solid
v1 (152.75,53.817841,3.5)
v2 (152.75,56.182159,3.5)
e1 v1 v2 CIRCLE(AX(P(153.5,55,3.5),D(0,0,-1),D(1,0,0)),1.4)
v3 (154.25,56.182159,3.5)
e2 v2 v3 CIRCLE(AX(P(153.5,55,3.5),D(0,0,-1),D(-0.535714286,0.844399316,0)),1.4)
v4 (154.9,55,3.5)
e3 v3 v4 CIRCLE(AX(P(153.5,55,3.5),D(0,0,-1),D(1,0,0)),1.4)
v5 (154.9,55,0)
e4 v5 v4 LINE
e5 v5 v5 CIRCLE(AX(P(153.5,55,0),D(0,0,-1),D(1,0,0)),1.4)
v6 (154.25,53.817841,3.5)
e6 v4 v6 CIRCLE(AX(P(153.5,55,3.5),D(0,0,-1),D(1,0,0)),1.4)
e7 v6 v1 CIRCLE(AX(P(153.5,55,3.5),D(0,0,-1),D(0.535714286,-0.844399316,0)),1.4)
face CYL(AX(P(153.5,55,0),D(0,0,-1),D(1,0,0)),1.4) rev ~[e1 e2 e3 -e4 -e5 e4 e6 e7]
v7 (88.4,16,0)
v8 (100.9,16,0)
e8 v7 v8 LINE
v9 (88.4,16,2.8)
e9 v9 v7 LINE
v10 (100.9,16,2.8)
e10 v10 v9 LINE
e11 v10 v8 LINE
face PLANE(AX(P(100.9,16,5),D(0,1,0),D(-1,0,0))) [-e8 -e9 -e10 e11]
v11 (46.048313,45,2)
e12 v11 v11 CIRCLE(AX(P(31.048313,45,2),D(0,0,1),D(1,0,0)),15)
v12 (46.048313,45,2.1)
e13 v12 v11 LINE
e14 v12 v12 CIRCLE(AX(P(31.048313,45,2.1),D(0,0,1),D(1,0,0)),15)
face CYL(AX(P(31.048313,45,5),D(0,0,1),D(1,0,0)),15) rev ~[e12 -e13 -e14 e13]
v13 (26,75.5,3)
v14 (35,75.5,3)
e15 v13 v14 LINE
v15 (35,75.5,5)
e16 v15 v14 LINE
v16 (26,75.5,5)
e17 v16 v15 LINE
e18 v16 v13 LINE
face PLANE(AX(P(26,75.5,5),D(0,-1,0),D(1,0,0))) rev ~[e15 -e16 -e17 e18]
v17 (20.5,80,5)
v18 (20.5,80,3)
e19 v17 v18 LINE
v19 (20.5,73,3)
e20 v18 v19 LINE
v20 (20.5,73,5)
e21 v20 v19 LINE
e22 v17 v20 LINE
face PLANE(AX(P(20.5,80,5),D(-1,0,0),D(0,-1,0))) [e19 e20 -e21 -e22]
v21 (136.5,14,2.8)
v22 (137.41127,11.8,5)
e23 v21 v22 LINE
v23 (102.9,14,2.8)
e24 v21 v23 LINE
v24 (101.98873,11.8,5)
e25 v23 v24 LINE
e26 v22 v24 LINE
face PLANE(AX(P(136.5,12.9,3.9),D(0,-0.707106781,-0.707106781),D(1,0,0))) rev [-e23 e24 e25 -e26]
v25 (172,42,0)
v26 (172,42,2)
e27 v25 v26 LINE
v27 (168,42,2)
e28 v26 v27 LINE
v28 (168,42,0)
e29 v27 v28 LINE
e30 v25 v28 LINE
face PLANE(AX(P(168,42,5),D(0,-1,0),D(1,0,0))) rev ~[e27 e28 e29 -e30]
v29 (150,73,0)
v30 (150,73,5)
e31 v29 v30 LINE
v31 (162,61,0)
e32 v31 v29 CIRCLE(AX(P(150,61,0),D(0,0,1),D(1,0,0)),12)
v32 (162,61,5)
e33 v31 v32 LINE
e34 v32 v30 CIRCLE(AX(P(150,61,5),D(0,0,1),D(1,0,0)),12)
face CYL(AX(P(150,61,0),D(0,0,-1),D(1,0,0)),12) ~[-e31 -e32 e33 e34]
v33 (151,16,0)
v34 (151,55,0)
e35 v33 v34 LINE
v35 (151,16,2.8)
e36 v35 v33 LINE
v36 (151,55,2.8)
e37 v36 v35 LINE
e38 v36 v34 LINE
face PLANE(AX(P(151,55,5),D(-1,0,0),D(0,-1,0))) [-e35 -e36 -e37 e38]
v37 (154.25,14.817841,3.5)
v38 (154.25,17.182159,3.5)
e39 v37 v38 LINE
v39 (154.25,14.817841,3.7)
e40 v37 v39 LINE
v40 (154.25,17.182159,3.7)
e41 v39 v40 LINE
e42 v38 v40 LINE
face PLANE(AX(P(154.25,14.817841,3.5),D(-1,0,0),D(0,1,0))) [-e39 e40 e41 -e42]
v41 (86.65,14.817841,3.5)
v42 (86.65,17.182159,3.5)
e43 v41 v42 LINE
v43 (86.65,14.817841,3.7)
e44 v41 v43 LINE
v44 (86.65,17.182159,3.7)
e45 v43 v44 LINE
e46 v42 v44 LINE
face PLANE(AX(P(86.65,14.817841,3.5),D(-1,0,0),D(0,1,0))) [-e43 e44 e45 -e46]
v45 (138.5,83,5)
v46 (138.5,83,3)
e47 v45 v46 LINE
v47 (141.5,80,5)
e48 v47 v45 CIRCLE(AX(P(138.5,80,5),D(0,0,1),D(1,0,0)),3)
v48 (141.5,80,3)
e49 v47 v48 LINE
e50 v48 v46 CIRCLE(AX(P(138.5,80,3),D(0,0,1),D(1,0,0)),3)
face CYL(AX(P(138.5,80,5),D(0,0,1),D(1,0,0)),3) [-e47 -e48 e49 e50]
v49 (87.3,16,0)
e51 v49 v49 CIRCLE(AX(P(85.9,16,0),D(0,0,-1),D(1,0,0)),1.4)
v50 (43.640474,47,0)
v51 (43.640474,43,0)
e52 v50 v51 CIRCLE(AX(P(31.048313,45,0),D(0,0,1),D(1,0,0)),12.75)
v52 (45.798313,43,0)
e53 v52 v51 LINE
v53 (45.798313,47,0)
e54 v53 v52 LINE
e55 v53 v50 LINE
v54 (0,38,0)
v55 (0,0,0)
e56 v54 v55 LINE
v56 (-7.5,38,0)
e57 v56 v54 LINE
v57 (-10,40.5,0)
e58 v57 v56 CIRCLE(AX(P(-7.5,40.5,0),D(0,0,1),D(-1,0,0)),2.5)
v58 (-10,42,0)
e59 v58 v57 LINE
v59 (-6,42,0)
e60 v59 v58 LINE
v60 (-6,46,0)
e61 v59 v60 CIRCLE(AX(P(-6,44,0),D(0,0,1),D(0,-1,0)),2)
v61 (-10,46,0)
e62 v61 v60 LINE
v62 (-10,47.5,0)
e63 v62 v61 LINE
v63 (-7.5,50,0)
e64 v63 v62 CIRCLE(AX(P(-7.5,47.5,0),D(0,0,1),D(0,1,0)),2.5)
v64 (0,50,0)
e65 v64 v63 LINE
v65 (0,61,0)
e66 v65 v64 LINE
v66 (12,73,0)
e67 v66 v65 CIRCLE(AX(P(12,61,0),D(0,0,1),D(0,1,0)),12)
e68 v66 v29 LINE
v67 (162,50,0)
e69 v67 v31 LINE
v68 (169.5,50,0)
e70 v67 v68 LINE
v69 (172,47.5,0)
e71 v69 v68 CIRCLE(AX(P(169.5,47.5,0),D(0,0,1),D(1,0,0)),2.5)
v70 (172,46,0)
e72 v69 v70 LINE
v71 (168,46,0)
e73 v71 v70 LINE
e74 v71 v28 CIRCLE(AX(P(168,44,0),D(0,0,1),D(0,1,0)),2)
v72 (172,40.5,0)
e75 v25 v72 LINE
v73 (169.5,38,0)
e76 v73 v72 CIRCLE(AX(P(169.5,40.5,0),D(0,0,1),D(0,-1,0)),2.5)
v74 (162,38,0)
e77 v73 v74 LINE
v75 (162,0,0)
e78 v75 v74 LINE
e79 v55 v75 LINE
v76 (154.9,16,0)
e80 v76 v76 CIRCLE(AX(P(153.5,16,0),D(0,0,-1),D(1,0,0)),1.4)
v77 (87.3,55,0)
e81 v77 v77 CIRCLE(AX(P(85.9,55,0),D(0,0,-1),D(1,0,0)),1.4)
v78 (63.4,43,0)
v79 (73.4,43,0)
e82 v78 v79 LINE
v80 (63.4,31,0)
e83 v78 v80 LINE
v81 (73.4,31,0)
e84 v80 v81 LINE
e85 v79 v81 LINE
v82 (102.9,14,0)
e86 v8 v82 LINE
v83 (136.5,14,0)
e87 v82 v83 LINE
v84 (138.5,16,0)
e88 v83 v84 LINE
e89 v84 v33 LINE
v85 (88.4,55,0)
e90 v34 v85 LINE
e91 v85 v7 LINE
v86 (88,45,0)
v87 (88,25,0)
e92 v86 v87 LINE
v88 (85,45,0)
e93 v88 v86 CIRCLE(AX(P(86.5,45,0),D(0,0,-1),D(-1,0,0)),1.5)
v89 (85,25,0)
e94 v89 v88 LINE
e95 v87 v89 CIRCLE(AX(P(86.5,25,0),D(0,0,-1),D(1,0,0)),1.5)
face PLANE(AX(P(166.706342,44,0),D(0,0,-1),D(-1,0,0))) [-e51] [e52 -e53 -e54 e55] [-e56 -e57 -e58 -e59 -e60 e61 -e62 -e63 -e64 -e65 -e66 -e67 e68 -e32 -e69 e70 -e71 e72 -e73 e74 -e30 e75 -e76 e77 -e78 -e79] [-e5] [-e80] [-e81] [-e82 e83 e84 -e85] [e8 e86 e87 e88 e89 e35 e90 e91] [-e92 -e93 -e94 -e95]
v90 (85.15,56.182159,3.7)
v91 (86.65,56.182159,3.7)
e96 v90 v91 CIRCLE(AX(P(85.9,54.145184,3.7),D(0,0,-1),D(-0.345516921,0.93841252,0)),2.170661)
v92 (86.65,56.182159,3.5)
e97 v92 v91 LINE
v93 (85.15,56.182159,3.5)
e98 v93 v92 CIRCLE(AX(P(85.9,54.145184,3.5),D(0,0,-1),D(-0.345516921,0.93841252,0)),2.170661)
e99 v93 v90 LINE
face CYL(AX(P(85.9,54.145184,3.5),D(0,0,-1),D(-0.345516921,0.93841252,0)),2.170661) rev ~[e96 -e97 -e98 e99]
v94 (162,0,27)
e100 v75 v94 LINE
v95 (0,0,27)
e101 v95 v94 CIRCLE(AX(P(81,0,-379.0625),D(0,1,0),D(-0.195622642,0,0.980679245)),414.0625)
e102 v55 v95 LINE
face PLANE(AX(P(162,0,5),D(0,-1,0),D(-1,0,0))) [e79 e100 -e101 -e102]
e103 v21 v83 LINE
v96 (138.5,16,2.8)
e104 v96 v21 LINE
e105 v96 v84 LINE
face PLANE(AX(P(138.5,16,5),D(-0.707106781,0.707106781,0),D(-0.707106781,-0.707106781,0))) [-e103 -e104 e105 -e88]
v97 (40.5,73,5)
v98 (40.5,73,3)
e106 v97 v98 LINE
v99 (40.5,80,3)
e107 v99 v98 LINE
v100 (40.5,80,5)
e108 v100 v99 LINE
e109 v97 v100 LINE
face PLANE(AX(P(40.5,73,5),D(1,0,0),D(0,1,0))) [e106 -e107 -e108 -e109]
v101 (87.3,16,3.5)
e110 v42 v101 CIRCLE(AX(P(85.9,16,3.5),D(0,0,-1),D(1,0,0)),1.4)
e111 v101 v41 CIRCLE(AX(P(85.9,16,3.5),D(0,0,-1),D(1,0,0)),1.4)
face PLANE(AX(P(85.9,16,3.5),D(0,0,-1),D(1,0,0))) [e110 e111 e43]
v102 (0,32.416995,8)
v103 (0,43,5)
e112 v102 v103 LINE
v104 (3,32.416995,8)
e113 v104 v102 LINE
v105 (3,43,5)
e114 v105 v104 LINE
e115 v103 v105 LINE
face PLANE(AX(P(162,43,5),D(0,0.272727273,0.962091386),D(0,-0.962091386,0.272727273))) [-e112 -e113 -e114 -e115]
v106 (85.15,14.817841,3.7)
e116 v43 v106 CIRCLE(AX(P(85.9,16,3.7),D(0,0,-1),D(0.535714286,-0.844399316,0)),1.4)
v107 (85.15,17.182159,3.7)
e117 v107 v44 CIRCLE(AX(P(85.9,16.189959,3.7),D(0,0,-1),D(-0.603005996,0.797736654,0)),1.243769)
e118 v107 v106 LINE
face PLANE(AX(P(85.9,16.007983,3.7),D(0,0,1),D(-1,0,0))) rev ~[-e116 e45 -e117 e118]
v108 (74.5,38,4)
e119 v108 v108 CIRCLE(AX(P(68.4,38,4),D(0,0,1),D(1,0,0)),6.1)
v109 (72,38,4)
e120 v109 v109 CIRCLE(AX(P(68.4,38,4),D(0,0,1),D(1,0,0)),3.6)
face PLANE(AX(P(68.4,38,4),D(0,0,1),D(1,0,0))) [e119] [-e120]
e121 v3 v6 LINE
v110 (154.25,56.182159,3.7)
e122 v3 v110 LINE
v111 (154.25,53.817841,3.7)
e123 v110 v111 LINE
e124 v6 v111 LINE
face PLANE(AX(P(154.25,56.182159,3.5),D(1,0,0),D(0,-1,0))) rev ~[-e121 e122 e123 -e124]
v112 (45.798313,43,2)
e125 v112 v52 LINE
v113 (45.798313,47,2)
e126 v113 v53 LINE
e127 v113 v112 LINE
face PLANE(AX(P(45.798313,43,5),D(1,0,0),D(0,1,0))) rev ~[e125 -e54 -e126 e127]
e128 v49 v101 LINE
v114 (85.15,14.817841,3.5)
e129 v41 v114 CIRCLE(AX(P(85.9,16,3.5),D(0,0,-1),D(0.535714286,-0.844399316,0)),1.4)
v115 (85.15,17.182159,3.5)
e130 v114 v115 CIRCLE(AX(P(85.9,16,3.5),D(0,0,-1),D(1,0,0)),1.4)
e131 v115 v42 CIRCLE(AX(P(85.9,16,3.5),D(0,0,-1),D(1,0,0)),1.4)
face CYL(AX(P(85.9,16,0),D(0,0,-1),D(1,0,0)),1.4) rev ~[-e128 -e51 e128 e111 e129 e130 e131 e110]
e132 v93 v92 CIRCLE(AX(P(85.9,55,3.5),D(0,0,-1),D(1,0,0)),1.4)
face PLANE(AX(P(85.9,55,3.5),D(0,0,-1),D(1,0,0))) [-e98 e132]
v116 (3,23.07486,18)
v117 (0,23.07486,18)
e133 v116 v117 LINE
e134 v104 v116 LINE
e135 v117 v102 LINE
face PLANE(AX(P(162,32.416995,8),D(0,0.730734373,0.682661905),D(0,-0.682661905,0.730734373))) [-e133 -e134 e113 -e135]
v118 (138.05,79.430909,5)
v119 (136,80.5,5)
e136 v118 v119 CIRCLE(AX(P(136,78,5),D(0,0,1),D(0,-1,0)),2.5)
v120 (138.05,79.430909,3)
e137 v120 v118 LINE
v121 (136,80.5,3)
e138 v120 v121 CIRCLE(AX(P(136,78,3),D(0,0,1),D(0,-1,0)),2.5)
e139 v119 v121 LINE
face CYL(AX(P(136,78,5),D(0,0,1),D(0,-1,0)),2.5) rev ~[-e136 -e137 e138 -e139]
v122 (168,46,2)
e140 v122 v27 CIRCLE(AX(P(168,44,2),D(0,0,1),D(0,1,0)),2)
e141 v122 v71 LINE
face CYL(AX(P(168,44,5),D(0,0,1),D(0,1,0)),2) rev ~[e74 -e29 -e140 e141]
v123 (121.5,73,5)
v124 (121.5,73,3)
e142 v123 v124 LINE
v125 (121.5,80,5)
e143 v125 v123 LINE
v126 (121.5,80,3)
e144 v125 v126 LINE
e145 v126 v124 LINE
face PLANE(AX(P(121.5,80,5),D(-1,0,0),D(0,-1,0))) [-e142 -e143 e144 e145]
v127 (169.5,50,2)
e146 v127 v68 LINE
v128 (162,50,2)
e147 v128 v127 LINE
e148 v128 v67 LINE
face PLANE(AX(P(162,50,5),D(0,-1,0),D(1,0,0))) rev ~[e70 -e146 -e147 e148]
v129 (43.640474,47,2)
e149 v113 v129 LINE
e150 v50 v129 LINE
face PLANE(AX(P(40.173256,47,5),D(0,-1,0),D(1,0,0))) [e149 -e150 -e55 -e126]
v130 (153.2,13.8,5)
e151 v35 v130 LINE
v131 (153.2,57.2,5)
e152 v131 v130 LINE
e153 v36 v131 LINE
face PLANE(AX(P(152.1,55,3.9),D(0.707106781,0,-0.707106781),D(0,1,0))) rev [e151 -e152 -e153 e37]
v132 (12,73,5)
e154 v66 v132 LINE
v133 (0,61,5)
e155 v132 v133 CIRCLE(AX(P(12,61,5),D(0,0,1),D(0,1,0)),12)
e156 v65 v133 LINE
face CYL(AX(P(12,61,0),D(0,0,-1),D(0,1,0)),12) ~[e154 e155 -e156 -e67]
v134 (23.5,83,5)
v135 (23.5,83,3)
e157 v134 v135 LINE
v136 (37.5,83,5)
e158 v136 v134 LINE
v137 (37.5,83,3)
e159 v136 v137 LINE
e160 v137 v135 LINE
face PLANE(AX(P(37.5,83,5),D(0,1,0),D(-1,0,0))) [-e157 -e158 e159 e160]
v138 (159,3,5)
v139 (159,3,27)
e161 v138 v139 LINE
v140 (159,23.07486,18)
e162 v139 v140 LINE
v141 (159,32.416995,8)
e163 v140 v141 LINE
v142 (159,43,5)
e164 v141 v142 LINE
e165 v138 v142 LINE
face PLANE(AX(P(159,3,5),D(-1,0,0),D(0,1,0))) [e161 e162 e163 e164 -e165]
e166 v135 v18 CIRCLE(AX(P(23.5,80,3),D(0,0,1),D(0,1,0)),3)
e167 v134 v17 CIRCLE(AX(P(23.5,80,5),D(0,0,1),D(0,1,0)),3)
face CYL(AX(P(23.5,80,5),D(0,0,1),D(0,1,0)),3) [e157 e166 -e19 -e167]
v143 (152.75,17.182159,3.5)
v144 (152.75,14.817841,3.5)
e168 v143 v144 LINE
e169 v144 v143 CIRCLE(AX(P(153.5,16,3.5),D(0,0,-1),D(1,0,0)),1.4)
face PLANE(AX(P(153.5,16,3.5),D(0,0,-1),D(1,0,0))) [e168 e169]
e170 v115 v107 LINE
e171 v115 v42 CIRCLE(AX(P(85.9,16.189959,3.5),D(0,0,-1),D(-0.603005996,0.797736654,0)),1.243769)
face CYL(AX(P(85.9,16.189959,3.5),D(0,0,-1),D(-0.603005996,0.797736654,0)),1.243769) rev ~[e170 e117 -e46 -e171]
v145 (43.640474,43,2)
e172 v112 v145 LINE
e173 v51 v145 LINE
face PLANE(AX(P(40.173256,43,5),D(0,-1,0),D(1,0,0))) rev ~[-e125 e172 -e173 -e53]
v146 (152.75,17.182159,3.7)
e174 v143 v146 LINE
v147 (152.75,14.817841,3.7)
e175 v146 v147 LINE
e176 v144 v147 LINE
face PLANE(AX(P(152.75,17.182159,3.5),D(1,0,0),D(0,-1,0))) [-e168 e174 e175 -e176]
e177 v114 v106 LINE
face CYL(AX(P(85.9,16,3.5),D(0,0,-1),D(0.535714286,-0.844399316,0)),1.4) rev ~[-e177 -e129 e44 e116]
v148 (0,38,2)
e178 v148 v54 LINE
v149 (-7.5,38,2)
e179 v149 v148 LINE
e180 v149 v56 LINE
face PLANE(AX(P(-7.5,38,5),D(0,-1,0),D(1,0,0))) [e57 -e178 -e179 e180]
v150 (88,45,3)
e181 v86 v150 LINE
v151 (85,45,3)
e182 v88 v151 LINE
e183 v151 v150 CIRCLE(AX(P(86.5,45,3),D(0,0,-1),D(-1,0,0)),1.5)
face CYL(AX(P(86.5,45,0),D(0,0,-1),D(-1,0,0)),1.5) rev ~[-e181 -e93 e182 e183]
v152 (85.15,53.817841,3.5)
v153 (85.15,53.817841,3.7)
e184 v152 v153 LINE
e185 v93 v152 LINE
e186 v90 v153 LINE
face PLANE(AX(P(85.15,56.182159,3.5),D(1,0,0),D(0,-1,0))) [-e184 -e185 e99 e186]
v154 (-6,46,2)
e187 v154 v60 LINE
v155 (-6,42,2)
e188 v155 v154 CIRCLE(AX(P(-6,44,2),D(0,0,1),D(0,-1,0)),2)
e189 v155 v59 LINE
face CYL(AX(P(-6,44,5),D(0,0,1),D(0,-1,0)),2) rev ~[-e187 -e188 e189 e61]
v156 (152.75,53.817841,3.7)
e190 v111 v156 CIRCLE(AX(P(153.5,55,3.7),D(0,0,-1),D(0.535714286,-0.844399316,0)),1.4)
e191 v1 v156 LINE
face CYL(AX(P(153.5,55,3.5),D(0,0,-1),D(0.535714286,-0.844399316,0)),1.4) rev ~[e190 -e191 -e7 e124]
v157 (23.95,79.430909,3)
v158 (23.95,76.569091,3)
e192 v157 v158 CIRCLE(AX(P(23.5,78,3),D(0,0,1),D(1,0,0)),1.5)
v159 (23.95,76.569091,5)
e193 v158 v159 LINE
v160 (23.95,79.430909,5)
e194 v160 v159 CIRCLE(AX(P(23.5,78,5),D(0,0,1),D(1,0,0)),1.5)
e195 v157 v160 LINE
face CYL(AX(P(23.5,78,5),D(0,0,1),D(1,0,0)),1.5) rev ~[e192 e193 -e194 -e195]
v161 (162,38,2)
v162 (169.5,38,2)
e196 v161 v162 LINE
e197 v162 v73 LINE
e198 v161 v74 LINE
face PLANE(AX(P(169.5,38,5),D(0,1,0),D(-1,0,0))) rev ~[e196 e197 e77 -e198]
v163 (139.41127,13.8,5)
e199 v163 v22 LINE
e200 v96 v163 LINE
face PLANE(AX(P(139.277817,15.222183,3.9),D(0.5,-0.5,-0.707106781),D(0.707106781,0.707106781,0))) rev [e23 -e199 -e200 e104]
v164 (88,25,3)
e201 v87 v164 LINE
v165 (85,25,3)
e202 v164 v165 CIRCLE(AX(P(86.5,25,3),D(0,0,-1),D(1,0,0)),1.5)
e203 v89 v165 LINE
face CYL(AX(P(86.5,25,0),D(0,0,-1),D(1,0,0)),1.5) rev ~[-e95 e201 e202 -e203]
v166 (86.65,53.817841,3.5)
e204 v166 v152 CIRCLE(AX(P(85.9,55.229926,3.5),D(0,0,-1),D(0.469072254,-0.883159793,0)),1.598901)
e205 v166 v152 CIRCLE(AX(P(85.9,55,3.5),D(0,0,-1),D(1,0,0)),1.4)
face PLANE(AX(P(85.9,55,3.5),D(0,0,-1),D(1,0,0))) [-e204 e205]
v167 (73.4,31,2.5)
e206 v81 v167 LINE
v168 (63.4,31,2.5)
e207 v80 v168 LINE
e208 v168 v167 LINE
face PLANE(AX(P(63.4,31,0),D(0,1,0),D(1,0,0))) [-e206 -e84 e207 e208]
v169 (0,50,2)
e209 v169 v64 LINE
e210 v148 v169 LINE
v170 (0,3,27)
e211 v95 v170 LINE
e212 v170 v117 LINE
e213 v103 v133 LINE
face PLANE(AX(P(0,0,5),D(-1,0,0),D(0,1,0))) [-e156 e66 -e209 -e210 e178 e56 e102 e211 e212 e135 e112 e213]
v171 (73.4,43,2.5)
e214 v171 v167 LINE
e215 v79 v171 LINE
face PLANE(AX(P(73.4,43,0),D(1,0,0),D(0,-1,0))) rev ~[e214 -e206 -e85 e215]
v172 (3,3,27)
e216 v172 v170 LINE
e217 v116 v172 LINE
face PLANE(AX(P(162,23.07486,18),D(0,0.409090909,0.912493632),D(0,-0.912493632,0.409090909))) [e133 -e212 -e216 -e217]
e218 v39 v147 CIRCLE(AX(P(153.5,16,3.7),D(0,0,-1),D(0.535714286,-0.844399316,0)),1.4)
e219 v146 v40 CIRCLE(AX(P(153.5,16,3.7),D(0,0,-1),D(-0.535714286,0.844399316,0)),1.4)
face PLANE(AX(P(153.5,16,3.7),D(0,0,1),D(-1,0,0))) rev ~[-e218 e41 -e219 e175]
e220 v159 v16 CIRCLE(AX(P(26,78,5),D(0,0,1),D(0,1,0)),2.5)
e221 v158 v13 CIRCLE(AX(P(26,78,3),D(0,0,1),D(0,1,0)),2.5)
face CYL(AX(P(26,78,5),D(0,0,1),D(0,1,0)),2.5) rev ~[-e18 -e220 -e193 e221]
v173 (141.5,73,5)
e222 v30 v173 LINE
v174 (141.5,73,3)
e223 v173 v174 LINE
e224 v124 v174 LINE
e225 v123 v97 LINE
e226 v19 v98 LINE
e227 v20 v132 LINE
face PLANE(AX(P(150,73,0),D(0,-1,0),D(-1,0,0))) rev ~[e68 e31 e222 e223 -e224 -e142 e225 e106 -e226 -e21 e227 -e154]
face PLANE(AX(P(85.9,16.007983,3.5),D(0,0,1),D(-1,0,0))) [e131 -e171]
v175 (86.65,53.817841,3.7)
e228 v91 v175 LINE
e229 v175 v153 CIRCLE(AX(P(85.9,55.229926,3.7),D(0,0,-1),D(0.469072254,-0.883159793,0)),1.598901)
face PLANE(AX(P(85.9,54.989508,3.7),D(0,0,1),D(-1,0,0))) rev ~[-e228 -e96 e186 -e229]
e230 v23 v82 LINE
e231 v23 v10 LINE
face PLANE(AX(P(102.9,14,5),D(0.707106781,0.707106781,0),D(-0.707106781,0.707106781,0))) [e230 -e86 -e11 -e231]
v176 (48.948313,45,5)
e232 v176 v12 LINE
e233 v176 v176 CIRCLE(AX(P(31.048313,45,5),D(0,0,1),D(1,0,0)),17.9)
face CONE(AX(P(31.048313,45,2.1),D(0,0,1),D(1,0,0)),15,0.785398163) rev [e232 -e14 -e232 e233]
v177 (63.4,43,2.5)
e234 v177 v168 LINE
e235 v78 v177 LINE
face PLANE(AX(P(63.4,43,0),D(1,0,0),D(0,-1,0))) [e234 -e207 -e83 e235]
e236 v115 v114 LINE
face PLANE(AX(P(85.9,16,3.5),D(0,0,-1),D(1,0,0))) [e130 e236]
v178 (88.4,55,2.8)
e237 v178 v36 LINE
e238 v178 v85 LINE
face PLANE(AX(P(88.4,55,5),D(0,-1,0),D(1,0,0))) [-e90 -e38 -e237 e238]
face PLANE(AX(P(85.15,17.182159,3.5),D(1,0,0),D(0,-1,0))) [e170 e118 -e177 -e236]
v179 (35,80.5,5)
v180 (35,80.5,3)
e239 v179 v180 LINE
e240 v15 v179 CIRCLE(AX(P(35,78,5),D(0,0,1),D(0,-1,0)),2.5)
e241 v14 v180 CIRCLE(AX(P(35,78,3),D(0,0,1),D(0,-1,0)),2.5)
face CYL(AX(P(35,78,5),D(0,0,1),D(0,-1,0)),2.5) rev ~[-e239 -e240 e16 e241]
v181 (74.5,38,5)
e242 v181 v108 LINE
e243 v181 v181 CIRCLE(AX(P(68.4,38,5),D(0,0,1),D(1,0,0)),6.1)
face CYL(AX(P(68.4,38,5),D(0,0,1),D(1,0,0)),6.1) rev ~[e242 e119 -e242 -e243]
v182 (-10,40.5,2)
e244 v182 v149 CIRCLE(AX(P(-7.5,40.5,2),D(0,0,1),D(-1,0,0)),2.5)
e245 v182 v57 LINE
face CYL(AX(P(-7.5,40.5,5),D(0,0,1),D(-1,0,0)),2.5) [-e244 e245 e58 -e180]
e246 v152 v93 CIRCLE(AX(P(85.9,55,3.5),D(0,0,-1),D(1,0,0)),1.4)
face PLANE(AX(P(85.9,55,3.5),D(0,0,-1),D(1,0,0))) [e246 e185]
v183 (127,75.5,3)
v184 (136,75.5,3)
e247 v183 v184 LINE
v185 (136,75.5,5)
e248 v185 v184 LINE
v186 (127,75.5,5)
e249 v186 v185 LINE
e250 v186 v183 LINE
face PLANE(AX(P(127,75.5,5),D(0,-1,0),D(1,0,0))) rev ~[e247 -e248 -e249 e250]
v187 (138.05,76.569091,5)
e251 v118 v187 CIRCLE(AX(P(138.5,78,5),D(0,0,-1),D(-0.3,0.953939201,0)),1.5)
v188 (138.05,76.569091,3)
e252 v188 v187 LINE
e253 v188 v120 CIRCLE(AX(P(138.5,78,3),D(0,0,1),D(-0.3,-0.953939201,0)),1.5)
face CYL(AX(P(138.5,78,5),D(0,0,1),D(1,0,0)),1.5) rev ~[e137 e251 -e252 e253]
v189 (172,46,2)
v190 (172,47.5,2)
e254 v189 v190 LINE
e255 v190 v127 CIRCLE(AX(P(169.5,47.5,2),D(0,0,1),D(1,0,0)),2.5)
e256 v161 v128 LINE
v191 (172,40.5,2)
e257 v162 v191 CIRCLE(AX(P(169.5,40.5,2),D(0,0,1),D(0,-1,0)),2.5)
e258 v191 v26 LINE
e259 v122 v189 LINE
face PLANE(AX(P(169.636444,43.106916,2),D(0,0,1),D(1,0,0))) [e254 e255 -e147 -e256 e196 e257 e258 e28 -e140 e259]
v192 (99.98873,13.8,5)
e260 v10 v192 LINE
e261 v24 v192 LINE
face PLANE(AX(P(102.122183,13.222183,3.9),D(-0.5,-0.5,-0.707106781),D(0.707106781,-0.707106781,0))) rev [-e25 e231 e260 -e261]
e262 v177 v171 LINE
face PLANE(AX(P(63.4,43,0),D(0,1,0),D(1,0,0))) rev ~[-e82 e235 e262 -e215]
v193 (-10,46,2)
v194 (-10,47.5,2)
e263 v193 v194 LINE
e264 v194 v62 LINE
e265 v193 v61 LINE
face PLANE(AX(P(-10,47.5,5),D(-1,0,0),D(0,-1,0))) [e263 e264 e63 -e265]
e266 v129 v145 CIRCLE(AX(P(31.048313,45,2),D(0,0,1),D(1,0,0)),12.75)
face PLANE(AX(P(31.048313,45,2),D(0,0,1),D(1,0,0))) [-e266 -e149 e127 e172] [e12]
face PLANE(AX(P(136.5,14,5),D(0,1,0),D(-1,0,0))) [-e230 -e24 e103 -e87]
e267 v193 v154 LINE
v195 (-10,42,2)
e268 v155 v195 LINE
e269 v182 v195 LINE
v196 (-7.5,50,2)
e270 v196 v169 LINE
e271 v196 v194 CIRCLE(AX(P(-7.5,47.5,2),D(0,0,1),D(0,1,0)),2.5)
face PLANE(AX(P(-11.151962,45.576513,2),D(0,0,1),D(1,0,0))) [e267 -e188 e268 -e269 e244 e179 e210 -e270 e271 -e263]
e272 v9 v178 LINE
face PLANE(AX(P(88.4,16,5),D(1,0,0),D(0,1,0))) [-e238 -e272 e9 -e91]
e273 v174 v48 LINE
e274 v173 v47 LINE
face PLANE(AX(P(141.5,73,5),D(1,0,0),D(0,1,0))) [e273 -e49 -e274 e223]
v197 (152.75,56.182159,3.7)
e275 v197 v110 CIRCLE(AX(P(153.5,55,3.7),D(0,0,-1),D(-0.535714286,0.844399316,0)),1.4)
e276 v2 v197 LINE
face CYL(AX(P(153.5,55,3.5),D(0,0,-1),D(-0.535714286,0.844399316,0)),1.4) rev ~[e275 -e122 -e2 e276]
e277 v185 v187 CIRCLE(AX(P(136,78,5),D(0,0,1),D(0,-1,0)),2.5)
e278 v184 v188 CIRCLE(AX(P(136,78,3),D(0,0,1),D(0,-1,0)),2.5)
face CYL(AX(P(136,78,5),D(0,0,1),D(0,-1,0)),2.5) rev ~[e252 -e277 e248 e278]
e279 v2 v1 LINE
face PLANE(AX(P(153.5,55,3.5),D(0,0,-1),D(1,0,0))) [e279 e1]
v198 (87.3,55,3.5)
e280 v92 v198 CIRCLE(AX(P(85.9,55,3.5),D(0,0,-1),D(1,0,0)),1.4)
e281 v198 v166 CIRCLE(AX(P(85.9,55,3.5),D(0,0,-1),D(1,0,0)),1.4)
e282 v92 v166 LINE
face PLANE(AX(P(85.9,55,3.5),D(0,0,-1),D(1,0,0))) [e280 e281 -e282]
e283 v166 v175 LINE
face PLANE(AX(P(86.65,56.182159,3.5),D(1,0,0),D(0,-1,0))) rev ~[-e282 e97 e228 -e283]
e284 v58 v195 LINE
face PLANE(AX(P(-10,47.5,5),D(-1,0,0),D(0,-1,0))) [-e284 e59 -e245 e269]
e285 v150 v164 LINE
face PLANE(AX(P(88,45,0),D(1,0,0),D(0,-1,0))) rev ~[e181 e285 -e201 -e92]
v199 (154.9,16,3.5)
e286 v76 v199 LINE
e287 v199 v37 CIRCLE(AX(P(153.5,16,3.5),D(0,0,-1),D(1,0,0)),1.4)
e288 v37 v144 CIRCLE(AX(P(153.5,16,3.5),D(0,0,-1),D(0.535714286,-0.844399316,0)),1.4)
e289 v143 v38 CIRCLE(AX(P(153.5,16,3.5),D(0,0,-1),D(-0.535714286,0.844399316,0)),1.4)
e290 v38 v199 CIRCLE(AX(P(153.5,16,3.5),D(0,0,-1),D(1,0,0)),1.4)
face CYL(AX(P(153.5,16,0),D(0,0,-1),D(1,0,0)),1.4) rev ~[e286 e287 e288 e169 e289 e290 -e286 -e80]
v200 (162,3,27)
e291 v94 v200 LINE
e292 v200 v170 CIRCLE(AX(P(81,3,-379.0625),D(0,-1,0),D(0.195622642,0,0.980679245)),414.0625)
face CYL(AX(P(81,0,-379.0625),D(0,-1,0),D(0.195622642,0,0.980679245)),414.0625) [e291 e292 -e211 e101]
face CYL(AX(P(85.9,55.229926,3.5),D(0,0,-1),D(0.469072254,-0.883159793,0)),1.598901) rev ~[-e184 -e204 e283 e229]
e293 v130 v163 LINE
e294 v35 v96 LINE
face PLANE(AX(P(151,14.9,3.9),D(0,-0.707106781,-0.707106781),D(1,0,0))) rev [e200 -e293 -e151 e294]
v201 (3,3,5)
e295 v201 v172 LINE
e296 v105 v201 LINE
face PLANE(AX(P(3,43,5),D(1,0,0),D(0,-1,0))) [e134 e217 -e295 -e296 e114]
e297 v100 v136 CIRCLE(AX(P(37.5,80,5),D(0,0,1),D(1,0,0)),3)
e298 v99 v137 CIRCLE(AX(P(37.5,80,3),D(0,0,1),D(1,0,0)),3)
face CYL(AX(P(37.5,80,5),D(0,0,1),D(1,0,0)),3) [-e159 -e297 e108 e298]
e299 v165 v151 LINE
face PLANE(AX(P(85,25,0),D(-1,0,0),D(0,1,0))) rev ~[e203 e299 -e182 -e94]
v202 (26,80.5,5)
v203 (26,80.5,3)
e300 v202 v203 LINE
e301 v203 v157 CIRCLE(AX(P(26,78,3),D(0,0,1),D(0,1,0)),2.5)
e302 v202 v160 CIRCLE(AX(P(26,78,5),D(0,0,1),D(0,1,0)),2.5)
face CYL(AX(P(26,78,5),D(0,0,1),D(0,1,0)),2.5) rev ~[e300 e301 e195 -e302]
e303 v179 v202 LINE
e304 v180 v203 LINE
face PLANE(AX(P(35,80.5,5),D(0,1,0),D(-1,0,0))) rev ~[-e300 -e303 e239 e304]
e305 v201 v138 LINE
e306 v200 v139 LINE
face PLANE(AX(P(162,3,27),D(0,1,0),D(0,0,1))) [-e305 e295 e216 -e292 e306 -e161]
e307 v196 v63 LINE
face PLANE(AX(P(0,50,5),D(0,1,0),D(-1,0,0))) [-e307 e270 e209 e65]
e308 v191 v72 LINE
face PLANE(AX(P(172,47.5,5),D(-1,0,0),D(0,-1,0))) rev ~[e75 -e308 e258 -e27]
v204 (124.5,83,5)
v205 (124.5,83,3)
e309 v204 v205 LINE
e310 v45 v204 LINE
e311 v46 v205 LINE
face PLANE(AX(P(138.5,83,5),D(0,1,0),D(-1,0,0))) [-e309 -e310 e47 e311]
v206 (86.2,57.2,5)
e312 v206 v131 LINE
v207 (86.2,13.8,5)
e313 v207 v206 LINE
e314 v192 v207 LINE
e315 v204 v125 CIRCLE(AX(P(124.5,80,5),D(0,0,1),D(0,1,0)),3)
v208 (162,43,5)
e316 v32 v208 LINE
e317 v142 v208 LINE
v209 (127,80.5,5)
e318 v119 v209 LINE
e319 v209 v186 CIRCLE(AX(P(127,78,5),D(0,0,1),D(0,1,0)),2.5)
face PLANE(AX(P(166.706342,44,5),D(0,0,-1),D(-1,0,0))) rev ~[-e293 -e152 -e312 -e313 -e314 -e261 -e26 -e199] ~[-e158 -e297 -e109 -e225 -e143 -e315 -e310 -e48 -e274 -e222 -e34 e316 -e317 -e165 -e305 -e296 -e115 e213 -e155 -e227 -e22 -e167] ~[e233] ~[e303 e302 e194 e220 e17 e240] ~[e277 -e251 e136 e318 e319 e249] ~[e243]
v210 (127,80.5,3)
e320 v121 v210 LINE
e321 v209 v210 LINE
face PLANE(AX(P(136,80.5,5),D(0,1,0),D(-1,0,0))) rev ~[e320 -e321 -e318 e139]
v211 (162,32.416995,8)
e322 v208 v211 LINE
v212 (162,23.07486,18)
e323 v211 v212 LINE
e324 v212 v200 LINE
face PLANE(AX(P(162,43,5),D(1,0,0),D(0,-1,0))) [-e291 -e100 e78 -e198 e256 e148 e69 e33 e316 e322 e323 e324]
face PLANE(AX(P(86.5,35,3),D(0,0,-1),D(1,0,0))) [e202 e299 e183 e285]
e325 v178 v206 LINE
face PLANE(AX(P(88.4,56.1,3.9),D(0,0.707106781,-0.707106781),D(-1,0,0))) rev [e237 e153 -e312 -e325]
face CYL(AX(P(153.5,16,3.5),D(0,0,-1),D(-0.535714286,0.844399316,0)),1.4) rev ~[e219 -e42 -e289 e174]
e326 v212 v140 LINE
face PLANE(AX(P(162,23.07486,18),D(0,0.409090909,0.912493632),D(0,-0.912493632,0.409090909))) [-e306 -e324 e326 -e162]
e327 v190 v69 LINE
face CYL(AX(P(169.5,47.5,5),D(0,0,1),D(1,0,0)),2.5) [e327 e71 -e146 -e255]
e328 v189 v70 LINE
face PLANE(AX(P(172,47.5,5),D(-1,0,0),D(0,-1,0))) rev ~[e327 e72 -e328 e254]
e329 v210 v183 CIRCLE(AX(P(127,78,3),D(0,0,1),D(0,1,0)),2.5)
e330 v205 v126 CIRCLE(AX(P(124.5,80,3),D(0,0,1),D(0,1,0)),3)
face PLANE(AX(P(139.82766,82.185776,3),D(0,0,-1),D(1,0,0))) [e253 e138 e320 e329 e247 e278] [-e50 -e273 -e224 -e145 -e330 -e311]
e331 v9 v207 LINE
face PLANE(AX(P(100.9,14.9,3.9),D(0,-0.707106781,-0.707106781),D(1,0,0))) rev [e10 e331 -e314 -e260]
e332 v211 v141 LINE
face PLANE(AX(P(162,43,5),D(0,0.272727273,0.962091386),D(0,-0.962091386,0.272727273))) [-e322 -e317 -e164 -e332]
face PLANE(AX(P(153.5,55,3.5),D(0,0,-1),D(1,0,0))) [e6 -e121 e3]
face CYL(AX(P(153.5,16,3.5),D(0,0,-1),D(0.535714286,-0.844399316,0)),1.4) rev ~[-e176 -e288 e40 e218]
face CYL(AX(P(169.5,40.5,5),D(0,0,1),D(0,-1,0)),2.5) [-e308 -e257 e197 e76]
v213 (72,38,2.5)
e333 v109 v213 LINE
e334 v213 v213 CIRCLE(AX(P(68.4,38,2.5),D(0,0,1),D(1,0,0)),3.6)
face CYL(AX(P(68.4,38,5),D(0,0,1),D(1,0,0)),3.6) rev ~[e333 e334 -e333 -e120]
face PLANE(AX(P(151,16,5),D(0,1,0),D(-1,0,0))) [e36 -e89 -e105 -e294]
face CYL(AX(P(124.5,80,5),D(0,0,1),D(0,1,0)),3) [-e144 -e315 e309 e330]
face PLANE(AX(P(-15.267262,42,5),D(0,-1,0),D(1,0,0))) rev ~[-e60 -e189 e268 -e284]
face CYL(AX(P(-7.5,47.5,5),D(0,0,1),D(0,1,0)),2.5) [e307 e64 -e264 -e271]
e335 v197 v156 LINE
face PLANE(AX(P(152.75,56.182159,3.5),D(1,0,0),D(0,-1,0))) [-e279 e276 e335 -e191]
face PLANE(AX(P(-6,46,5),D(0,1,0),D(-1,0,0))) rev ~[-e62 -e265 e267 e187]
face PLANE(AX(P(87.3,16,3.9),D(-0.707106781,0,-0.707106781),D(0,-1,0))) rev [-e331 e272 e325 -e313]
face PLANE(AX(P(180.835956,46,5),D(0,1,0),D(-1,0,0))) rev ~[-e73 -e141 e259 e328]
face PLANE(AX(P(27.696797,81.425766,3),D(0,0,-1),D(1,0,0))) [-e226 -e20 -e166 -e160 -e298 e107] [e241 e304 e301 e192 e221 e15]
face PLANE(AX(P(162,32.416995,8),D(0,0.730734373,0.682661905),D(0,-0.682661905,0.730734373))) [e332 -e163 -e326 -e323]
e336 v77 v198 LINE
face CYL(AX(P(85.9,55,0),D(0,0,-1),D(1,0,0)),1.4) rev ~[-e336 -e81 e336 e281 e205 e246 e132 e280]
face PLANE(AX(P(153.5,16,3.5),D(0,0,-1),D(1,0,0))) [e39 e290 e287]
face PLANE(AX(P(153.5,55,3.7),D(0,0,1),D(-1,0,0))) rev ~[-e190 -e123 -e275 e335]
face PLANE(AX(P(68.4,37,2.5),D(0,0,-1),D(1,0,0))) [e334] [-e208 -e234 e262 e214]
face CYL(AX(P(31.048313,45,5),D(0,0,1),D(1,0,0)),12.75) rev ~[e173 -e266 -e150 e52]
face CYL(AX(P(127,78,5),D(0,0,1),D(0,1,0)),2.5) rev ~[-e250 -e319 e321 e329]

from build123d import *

# Parameters (mm, degrees)
PAD_DEPTH       = 5
PAD001_DEPTH    = 30
POCKET_DEPTH    = 162.001
POCKET001_DEPTH = 5
PAD002_DEPTH    = 5
POCKET002_DEPTH = 5.001
SKETCH007_W     = 22.303925
SKETCH007_H     = 15.153027
SKETCH007_W_2   = 15.272888
SKETCH007_H_2   = 13.786167
POCKET003_DEPTH = 3
SKETCH008_W     = 25.606406
SKETCH008_H     = 16.851532
SKETCH008_W_2   = 36.655319
SKETCH008_H_2   = 18.371552
POCKET004_DEPTH = 3
SKETCH009_R     = 1.5
POCKET005_DEPTH = 5
SKETCH010_R     = 3.6
SKETCH010_R_2   = 12.75
POCKET006_DEPTH = 5.001
SKETCH011_W     = 5.6250572961
SKETCH011_H     = 4
POCKET007_DEPTH = 5.001
SKETCH012_R     = 15
POCKET008_DEPTH = 3
SKETCH013_R     = 6.1
POCKET009_DEPTH = 1
SKETCH_R        = 1.4
POCKET010_DEPTH = 3.5
POCKET011_DEPTH = 0.2
SKETCH016_W     = 10
SKETCH016_H     = 12
POCKET013_DEPTH = 2.5
SKETCH018_W     = 7.2
SKETCH018_H     = 7.2
POCKET015_DEPTH = 0.2
POCKET016_DEPTH = 3
CHAMFER_SIZE    = 2.2
CHAMFER001_SIZE = 2.9


with BuildPart() as part:
    # Sketch001 → Pad (new body)
    with BuildSketch(Plane.XY):
        with BuildLine():
            Line((0, 0), (162, 0))
            Line((162, 0), (162, 61))
            ThreePointArc((162, 61), (158.4852813742, 69.4852813742), (150, 73))
            Line((150, 73), (12, 73))
            ThreePointArc((12, 73), (3.5147186258, 69.4852813742), (0, 61))
            Line((0, 61), (0, 0))
        make_face()
    extrude(amount=PAD_DEPTH)

    # Sketch002 (on Face8 of Pad) → Pad001 (join)
    with BuildSketch(Plane.XY.offset(5)):
        Polygon((0, 0), (0, 43), (3, 43), (3, 3), (159, 3), (159, 43), (162, 43), (162, 0), align=None)
    extrude(amount=PAD001_DEPTH)

    # Sketch003 (on Face10 of Pad001) → Pocket (cut, through all)
    with BuildSketch(Plane.YZ.offset(162)):
        Polygon((43, 5), (32.4169947557, 8), (23.0748598999, 18), (3, 27), (3, 35), (43, 35), align=None)
    extrude(amount=-POCKET_DEPTH, mode=Mode.SUBTRACT)

    # Sketch004 (on Face5 of Pocket) → Pocket001 (cut)
    with BuildSketch(Plane.XZ):
        with BuildLine():
            Line((0, 27), (0, 61.0433678259))
            Line((0, 61.0433678259), (162, 61.0433678259))
            Line((162, 61.0433678259), (162, 27))
            ThreePointArc((162, 27), (81, 35), (0, 27))
        make_face()
    extrude(amount=-POCKET001_DEPTH, mode=Mode.SUBTRACT)

    # Sketch005 (on Face7 of Pocket001) → Pad002 (join)
    with BuildSketch(Plane.XY.offset(5)):
        with BuildLine():
            Line((162, 50), (169.5, 50))
            ThreePointArc((172, 47.5), (171.267766953, 49.267766953), (169.5, 50))
            Line((172, 47.5), (172, 40.5))
            ThreePointArc((169.5, 38), (171.267766953, 38.732233047), (172, 40.5))
            Line((169.5, 38), (162, 38))
            Line((162, 38), (162, 50))
        make_face()
        with BuildLine():
            Line((0, 50), (-7.5, 50))
            ThreePointArc((-7.5, 50), (-9.267766953, 49.267766953), (-10, 47.5))
            Line((-10, 47.5), (-10, 40.5))
            ThreePointArc((-10, 40.5), (-9.267766953, 38.732233047), (-7.5, 38))
            Line((-7.5, 38), (0, 38))
            Line((0, 38), (0, 50))
        make_face()
        with BuildLine():
            Line((20.5, 73), (40.5, 73))
            Line((40.5, 73), (40.5, 80))
            ThreePointArc((40.5, 80), (39.6213203436, 82.1213203436), (37.5, 83))
            Line((37.5, 83), (23.5, 83))
            ThreePointArc((23.5, 83), (21.3786796564, 82.1213203436), (20.5, 80))
            Line((20.5, 80), (20.5, 73))
        make_face()
        with BuildLine():
            Line((121.5, 73), (141.5, 73))
            Line((141.5, 73), (141.5, 80))
            ThreePointArc((141.5, 80), (140.6213203436, 82.1213203436), (138.5, 83))
            Line((138.5, 83), (124.5, 83))
            ThreePointArc((124.5, 83), (122.3786796564, 82.1213203436), (121.5, 80))
            Line((121.5, 80), (121.5, 73))
        make_face()
    extrude(amount=-PAD002_DEPTH)

    # Sketch006 (on Face56 of Pad002) → Pocket002 (cut, through all)
    with BuildSketch(Plane.XY.offset(5)):
        with BuildLine():
            ThreePointArc((26, 80.5), (23.5, 78), (26, 75.5))
            Line((26, 75.5), (35, 75.5))
            ThreePointArc((35, 75.5), (37.5, 78), (35, 80.5))
            Line((35, 80.5), (26, 80.5))
        make_face()
        with BuildLine():
            ThreePointArc((127, 80.5), (124.5, 78), (127, 75.5))
            Line((127, 75.5), (136, 75.5))
            ThreePointArc((136, 75.5), (138.5, 78), (136, 80.5))
            Line((136, 80.5), (127, 80.5))
        make_face()
        with BuildLine():
            ThreePointArc((-15.2672618866, 46), (-17.2672618866, 44), (-15.2672618866, 42))
            Line((-15.2672618866, 42), (-6, 42))
            ThreePointArc((-6, 42), (-4, 44), (-6, 46))
            Line((-6, 46), (-15.2672618866, 46))
        make_face()
        with BuildLine():
            ThreePointArc((180.8359560682, 42), (182.8359560682, 44), (180.8359560682, 46))
            Line((180.8359560682, 46), (168, 46))
            ThreePointArc((168, 46), (166, 44), (168, 42))
            Line((168, 42), (180.8359560682, 42))
        make_face()
    extrude(amount=-POCKET002_DEPTH, mode=Mode.SUBTRACT)

    # Sketch007 (on Face29 of Pocket002) → Pocket003 (cut)
    with BuildSketch(Plane.XY.offset(5)):
        with Locations((-11.1519625, 45.5765135)):
            Rectangle(SKETCH007_W, SKETCH007_H)
        with Locations((169.636444, 43.1069165)):
            Rectangle(SKETCH007_W_2, SKETCH007_H_2)
    extrude(amount=-POCKET003_DEPTH, mode=Mode.SUBTRACT)

    # Sketch008 (on Face4 of Pocket003) → Pocket004 (cut)
    with BuildSketch(Plane(origin=(0, 0, 0), x_dir=(1, 0, 0), z_dir=(0, 0, -1))):
        with Locations((27.696797, -81.425766)):
            Rectangle(SKETCH008_W, SKETCH008_H)
        with Locations((139.8276595, -82.185776)):
            Rectangle(SKETCH008_W_2, SKETCH008_H_2)
    extrude(amount=-POCKET004_DEPTH, mode=Mode.SUBTRACT)

    # Sketch009 (on Face29 of Pocket004) → Pocket005 (cut)
    with BuildSketch(Plane.XY.offset(5)):
        with Locations((138.5, 78)):
            Circle(SKETCH009_R)
        with Locations((23.5, 78)):
            Circle(SKETCH009_R)
    extrude(amount=-POCKET005_DEPTH, mode=Mode.SUBTRACT)

    # Sketch010 (on Face65 of Pocket005) → Pocket006 (cut, through all)
    with BuildSketch(Plane.XY.offset(5)):
        with Locations((68.4, 38)):
            Circle(SKETCH010_R)
        with Locations((31.0483132961, 45)):
            Circle(SKETCH010_R_2)
        Polygon((88.4, 55), (151, 55), (151, 16), (138.5, 16), (136.5000000003, 14), (102.9, 14), (100.9, 16), (88.4, 16), align=None)
    extrude(amount=-POCKET006_DEPTH, mode=Mode.SUBTRACT)

    # Sketch011 (on Face69 of Pocket006) → Pocket007 (cut, through all)
    with BuildSketch(Plane.XY.offset(5)):
        with Locations((42.985784648, 45)):
            Rectangle(SKETCH011_W, SKETCH011_H)
    extrude(amount=-POCKET007_DEPTH, mode=Mode.SUBTRACT)

    # Sketch012 (on Face42 of Pocket007) → Pocket008 (cut)
    with BuildSketch(Plane.XY.offset(5)):
        with Locations((31.0483132961, 45)):
            Circle(SKETCH012_R)
    extrude(amount=-POCKET008_DEPTH, mode=Mode.SUBTRACT)

    # Sketch013 (on Face72 of Pocket008) → Pocket009 (cut)
    with BuildSketch(Plane.XY.offset(5)):
        with Locations((68.4, 38)):
            Circle(SKETCH013_R)
    extrude(amount=-POCKET009_DEPTH, mode=Mode.SUBTRACT)

    # Sketch (on Face4 of Pocket009) → Pocket010 (cut)
    with BuildSketch(Plane(origin=(0, 0, 0), x_dir=(1, 0, 0), z_dir=(0, 0, -1))):
        with Locations((85.9, -16)):
            Circle(SKETCH_R)
        with Locations((153.5, -16)):
            Circle(SKETCH_R)
        with Locations((85.9, -55)):
            Circle(SKETCH_R)
        with Locations((153.5, -55)):
            Circle(SKETCH_R)
    extrude(amount=-POCKET010_DEPTH, mode=Mode.SUBTRACT)

    # Sketch014 (on Face81 of Pocket010) → Pocket011 (cut)
    with BuildSketch(Plane(origin=(0, 0, 3.5), x_dir=(1, 0, 0), z_dir=(0, 0, -1))):
        with BuildLine():
            Line((85.15, -56.1821590418), (85.15, -53.8178409582))
            ThreePointArc((86.65, -53.8178409582), (85.9, -53.6310250587), (85.15, -53.8178409582))
            Line((86.65, -56.1821590418), (86.65, -53.8178409582))
            ThreePointArc((85.15, -56.1821590418), (85.9, -56.3158445643), (86.65, -56.1821590418))
        make_face()
        with BuildLine():
            Line((152.75, -17.1821590418), (152.75, -14.8178409582))
            ThreePointArc((154.25, -14.8178409582), (153.5, -14.6), (152.75, -14.8178409582))
            Line((154.25, -14.8178409582), (154.25, -17.1821590418))
            ThreePointArc((152.75, -17.1821590418), (153.5, -17.4), (154.25, -17.1821590418))
        make_face()
        with BuildLine():
            Line((152.75, -56.1821590418), (152.75, -53.8178409582))
            ThreePointArc((154.25, -53.8178409582), (153.5, -53.6), (152.75, -53.8178409582))
            Line((154.25, -56.1821590418), (154.25, -53.8178409582))
            ThreePointArc((152.75, -56.1821590418), (153.5, -56.4), (154.25, -56.1821590418))
        make_face()
        with BuildLine():
            Line((85.15, -17.1821590418), (85.15, -14.8178409582))
            ThreePointArc((86.65, -14.8178409582), (85.9, -14.6), (85.15, -14.8178409582))
            Line((86.65, -14.8178409582), (86.65, -17.1821590418))
            ThreePointArc((85.15, -17.1821590418), (85.9, -17.4337278664), (86.65, -17.1821590418))
        make_face()
    extrude(amount=-POCKET011_DEPTH, mode=Mode.SUBTRACT)

    # Sketch016 → Pocket013 (cut)
    with BuildSketch(Plane(origin=(0, 0, 0), x_dir=(1, 0, 0), z_dir=(0, 0, -1))):
        with Locations((68.4, -37)):
            Rectangle(SKETCH016_W, SKETCH016_H)
    extrude(amount=-POCKET013_DEPTH, mode=Mode.SUBTRACT)

    # Sketch018 → Pocket015 (cut)
    with BuildSketch(Plane.XZ.offset(-55.75)):
        with Locations((68.4, -38)):
            Rectangle(SKETCH018_W, SKETCH018_H)
    extrude(amount=-POCKET015_DEPTH, mode=Mode.SUBTRACT)

    # Sketch019 (on Face4 of Pocket015) → Pocket016 (cut)
    with BuildSketch(Plane(origin=(0, 0, 0), x_dir=(1, 0, 0), z_dir=(0, 0, -1))):
        with BuildLine():
            ThreePointArc((88, -25), (86.5, -23.5), (85, -25))
            Line((85, -25), (85, -45))
            ThreePointArc((85, -45), (86.5, -46.5), (88, -45))
            Line((88, -45), (88, -25))
        make_face()
    extrude(amount=-POCKET016_DEPTH, mode=Mode.SUBTRACT)

    # Chamfer
    chamfer_edges = [part.edges().sort_by_distance(p)[0] for p in [
        (88.4, 29.5, 5),
        (119.7, 55, 5),
        (151, 49, 5),
        (151, 29.5, 5),
        (144.75, 16, 5),
        (137.5, 15, 5),
        (119.7, 14, 5),
        (101.9, 15, 5),
        (94.65, 16, 5),
    ]]
    chamfer(chamfer_edges, length=CHAMFER_SIZE)

    # Chamfer001
    chamfer001_edges = [part.edges().sort_by_distance(p)[0] for p in [
        (30.046074, 59.96648, 5),
    ]]
    chamfer(chamfer001_edges, length=CHAMFER001_SIZE)


solid = part.part
